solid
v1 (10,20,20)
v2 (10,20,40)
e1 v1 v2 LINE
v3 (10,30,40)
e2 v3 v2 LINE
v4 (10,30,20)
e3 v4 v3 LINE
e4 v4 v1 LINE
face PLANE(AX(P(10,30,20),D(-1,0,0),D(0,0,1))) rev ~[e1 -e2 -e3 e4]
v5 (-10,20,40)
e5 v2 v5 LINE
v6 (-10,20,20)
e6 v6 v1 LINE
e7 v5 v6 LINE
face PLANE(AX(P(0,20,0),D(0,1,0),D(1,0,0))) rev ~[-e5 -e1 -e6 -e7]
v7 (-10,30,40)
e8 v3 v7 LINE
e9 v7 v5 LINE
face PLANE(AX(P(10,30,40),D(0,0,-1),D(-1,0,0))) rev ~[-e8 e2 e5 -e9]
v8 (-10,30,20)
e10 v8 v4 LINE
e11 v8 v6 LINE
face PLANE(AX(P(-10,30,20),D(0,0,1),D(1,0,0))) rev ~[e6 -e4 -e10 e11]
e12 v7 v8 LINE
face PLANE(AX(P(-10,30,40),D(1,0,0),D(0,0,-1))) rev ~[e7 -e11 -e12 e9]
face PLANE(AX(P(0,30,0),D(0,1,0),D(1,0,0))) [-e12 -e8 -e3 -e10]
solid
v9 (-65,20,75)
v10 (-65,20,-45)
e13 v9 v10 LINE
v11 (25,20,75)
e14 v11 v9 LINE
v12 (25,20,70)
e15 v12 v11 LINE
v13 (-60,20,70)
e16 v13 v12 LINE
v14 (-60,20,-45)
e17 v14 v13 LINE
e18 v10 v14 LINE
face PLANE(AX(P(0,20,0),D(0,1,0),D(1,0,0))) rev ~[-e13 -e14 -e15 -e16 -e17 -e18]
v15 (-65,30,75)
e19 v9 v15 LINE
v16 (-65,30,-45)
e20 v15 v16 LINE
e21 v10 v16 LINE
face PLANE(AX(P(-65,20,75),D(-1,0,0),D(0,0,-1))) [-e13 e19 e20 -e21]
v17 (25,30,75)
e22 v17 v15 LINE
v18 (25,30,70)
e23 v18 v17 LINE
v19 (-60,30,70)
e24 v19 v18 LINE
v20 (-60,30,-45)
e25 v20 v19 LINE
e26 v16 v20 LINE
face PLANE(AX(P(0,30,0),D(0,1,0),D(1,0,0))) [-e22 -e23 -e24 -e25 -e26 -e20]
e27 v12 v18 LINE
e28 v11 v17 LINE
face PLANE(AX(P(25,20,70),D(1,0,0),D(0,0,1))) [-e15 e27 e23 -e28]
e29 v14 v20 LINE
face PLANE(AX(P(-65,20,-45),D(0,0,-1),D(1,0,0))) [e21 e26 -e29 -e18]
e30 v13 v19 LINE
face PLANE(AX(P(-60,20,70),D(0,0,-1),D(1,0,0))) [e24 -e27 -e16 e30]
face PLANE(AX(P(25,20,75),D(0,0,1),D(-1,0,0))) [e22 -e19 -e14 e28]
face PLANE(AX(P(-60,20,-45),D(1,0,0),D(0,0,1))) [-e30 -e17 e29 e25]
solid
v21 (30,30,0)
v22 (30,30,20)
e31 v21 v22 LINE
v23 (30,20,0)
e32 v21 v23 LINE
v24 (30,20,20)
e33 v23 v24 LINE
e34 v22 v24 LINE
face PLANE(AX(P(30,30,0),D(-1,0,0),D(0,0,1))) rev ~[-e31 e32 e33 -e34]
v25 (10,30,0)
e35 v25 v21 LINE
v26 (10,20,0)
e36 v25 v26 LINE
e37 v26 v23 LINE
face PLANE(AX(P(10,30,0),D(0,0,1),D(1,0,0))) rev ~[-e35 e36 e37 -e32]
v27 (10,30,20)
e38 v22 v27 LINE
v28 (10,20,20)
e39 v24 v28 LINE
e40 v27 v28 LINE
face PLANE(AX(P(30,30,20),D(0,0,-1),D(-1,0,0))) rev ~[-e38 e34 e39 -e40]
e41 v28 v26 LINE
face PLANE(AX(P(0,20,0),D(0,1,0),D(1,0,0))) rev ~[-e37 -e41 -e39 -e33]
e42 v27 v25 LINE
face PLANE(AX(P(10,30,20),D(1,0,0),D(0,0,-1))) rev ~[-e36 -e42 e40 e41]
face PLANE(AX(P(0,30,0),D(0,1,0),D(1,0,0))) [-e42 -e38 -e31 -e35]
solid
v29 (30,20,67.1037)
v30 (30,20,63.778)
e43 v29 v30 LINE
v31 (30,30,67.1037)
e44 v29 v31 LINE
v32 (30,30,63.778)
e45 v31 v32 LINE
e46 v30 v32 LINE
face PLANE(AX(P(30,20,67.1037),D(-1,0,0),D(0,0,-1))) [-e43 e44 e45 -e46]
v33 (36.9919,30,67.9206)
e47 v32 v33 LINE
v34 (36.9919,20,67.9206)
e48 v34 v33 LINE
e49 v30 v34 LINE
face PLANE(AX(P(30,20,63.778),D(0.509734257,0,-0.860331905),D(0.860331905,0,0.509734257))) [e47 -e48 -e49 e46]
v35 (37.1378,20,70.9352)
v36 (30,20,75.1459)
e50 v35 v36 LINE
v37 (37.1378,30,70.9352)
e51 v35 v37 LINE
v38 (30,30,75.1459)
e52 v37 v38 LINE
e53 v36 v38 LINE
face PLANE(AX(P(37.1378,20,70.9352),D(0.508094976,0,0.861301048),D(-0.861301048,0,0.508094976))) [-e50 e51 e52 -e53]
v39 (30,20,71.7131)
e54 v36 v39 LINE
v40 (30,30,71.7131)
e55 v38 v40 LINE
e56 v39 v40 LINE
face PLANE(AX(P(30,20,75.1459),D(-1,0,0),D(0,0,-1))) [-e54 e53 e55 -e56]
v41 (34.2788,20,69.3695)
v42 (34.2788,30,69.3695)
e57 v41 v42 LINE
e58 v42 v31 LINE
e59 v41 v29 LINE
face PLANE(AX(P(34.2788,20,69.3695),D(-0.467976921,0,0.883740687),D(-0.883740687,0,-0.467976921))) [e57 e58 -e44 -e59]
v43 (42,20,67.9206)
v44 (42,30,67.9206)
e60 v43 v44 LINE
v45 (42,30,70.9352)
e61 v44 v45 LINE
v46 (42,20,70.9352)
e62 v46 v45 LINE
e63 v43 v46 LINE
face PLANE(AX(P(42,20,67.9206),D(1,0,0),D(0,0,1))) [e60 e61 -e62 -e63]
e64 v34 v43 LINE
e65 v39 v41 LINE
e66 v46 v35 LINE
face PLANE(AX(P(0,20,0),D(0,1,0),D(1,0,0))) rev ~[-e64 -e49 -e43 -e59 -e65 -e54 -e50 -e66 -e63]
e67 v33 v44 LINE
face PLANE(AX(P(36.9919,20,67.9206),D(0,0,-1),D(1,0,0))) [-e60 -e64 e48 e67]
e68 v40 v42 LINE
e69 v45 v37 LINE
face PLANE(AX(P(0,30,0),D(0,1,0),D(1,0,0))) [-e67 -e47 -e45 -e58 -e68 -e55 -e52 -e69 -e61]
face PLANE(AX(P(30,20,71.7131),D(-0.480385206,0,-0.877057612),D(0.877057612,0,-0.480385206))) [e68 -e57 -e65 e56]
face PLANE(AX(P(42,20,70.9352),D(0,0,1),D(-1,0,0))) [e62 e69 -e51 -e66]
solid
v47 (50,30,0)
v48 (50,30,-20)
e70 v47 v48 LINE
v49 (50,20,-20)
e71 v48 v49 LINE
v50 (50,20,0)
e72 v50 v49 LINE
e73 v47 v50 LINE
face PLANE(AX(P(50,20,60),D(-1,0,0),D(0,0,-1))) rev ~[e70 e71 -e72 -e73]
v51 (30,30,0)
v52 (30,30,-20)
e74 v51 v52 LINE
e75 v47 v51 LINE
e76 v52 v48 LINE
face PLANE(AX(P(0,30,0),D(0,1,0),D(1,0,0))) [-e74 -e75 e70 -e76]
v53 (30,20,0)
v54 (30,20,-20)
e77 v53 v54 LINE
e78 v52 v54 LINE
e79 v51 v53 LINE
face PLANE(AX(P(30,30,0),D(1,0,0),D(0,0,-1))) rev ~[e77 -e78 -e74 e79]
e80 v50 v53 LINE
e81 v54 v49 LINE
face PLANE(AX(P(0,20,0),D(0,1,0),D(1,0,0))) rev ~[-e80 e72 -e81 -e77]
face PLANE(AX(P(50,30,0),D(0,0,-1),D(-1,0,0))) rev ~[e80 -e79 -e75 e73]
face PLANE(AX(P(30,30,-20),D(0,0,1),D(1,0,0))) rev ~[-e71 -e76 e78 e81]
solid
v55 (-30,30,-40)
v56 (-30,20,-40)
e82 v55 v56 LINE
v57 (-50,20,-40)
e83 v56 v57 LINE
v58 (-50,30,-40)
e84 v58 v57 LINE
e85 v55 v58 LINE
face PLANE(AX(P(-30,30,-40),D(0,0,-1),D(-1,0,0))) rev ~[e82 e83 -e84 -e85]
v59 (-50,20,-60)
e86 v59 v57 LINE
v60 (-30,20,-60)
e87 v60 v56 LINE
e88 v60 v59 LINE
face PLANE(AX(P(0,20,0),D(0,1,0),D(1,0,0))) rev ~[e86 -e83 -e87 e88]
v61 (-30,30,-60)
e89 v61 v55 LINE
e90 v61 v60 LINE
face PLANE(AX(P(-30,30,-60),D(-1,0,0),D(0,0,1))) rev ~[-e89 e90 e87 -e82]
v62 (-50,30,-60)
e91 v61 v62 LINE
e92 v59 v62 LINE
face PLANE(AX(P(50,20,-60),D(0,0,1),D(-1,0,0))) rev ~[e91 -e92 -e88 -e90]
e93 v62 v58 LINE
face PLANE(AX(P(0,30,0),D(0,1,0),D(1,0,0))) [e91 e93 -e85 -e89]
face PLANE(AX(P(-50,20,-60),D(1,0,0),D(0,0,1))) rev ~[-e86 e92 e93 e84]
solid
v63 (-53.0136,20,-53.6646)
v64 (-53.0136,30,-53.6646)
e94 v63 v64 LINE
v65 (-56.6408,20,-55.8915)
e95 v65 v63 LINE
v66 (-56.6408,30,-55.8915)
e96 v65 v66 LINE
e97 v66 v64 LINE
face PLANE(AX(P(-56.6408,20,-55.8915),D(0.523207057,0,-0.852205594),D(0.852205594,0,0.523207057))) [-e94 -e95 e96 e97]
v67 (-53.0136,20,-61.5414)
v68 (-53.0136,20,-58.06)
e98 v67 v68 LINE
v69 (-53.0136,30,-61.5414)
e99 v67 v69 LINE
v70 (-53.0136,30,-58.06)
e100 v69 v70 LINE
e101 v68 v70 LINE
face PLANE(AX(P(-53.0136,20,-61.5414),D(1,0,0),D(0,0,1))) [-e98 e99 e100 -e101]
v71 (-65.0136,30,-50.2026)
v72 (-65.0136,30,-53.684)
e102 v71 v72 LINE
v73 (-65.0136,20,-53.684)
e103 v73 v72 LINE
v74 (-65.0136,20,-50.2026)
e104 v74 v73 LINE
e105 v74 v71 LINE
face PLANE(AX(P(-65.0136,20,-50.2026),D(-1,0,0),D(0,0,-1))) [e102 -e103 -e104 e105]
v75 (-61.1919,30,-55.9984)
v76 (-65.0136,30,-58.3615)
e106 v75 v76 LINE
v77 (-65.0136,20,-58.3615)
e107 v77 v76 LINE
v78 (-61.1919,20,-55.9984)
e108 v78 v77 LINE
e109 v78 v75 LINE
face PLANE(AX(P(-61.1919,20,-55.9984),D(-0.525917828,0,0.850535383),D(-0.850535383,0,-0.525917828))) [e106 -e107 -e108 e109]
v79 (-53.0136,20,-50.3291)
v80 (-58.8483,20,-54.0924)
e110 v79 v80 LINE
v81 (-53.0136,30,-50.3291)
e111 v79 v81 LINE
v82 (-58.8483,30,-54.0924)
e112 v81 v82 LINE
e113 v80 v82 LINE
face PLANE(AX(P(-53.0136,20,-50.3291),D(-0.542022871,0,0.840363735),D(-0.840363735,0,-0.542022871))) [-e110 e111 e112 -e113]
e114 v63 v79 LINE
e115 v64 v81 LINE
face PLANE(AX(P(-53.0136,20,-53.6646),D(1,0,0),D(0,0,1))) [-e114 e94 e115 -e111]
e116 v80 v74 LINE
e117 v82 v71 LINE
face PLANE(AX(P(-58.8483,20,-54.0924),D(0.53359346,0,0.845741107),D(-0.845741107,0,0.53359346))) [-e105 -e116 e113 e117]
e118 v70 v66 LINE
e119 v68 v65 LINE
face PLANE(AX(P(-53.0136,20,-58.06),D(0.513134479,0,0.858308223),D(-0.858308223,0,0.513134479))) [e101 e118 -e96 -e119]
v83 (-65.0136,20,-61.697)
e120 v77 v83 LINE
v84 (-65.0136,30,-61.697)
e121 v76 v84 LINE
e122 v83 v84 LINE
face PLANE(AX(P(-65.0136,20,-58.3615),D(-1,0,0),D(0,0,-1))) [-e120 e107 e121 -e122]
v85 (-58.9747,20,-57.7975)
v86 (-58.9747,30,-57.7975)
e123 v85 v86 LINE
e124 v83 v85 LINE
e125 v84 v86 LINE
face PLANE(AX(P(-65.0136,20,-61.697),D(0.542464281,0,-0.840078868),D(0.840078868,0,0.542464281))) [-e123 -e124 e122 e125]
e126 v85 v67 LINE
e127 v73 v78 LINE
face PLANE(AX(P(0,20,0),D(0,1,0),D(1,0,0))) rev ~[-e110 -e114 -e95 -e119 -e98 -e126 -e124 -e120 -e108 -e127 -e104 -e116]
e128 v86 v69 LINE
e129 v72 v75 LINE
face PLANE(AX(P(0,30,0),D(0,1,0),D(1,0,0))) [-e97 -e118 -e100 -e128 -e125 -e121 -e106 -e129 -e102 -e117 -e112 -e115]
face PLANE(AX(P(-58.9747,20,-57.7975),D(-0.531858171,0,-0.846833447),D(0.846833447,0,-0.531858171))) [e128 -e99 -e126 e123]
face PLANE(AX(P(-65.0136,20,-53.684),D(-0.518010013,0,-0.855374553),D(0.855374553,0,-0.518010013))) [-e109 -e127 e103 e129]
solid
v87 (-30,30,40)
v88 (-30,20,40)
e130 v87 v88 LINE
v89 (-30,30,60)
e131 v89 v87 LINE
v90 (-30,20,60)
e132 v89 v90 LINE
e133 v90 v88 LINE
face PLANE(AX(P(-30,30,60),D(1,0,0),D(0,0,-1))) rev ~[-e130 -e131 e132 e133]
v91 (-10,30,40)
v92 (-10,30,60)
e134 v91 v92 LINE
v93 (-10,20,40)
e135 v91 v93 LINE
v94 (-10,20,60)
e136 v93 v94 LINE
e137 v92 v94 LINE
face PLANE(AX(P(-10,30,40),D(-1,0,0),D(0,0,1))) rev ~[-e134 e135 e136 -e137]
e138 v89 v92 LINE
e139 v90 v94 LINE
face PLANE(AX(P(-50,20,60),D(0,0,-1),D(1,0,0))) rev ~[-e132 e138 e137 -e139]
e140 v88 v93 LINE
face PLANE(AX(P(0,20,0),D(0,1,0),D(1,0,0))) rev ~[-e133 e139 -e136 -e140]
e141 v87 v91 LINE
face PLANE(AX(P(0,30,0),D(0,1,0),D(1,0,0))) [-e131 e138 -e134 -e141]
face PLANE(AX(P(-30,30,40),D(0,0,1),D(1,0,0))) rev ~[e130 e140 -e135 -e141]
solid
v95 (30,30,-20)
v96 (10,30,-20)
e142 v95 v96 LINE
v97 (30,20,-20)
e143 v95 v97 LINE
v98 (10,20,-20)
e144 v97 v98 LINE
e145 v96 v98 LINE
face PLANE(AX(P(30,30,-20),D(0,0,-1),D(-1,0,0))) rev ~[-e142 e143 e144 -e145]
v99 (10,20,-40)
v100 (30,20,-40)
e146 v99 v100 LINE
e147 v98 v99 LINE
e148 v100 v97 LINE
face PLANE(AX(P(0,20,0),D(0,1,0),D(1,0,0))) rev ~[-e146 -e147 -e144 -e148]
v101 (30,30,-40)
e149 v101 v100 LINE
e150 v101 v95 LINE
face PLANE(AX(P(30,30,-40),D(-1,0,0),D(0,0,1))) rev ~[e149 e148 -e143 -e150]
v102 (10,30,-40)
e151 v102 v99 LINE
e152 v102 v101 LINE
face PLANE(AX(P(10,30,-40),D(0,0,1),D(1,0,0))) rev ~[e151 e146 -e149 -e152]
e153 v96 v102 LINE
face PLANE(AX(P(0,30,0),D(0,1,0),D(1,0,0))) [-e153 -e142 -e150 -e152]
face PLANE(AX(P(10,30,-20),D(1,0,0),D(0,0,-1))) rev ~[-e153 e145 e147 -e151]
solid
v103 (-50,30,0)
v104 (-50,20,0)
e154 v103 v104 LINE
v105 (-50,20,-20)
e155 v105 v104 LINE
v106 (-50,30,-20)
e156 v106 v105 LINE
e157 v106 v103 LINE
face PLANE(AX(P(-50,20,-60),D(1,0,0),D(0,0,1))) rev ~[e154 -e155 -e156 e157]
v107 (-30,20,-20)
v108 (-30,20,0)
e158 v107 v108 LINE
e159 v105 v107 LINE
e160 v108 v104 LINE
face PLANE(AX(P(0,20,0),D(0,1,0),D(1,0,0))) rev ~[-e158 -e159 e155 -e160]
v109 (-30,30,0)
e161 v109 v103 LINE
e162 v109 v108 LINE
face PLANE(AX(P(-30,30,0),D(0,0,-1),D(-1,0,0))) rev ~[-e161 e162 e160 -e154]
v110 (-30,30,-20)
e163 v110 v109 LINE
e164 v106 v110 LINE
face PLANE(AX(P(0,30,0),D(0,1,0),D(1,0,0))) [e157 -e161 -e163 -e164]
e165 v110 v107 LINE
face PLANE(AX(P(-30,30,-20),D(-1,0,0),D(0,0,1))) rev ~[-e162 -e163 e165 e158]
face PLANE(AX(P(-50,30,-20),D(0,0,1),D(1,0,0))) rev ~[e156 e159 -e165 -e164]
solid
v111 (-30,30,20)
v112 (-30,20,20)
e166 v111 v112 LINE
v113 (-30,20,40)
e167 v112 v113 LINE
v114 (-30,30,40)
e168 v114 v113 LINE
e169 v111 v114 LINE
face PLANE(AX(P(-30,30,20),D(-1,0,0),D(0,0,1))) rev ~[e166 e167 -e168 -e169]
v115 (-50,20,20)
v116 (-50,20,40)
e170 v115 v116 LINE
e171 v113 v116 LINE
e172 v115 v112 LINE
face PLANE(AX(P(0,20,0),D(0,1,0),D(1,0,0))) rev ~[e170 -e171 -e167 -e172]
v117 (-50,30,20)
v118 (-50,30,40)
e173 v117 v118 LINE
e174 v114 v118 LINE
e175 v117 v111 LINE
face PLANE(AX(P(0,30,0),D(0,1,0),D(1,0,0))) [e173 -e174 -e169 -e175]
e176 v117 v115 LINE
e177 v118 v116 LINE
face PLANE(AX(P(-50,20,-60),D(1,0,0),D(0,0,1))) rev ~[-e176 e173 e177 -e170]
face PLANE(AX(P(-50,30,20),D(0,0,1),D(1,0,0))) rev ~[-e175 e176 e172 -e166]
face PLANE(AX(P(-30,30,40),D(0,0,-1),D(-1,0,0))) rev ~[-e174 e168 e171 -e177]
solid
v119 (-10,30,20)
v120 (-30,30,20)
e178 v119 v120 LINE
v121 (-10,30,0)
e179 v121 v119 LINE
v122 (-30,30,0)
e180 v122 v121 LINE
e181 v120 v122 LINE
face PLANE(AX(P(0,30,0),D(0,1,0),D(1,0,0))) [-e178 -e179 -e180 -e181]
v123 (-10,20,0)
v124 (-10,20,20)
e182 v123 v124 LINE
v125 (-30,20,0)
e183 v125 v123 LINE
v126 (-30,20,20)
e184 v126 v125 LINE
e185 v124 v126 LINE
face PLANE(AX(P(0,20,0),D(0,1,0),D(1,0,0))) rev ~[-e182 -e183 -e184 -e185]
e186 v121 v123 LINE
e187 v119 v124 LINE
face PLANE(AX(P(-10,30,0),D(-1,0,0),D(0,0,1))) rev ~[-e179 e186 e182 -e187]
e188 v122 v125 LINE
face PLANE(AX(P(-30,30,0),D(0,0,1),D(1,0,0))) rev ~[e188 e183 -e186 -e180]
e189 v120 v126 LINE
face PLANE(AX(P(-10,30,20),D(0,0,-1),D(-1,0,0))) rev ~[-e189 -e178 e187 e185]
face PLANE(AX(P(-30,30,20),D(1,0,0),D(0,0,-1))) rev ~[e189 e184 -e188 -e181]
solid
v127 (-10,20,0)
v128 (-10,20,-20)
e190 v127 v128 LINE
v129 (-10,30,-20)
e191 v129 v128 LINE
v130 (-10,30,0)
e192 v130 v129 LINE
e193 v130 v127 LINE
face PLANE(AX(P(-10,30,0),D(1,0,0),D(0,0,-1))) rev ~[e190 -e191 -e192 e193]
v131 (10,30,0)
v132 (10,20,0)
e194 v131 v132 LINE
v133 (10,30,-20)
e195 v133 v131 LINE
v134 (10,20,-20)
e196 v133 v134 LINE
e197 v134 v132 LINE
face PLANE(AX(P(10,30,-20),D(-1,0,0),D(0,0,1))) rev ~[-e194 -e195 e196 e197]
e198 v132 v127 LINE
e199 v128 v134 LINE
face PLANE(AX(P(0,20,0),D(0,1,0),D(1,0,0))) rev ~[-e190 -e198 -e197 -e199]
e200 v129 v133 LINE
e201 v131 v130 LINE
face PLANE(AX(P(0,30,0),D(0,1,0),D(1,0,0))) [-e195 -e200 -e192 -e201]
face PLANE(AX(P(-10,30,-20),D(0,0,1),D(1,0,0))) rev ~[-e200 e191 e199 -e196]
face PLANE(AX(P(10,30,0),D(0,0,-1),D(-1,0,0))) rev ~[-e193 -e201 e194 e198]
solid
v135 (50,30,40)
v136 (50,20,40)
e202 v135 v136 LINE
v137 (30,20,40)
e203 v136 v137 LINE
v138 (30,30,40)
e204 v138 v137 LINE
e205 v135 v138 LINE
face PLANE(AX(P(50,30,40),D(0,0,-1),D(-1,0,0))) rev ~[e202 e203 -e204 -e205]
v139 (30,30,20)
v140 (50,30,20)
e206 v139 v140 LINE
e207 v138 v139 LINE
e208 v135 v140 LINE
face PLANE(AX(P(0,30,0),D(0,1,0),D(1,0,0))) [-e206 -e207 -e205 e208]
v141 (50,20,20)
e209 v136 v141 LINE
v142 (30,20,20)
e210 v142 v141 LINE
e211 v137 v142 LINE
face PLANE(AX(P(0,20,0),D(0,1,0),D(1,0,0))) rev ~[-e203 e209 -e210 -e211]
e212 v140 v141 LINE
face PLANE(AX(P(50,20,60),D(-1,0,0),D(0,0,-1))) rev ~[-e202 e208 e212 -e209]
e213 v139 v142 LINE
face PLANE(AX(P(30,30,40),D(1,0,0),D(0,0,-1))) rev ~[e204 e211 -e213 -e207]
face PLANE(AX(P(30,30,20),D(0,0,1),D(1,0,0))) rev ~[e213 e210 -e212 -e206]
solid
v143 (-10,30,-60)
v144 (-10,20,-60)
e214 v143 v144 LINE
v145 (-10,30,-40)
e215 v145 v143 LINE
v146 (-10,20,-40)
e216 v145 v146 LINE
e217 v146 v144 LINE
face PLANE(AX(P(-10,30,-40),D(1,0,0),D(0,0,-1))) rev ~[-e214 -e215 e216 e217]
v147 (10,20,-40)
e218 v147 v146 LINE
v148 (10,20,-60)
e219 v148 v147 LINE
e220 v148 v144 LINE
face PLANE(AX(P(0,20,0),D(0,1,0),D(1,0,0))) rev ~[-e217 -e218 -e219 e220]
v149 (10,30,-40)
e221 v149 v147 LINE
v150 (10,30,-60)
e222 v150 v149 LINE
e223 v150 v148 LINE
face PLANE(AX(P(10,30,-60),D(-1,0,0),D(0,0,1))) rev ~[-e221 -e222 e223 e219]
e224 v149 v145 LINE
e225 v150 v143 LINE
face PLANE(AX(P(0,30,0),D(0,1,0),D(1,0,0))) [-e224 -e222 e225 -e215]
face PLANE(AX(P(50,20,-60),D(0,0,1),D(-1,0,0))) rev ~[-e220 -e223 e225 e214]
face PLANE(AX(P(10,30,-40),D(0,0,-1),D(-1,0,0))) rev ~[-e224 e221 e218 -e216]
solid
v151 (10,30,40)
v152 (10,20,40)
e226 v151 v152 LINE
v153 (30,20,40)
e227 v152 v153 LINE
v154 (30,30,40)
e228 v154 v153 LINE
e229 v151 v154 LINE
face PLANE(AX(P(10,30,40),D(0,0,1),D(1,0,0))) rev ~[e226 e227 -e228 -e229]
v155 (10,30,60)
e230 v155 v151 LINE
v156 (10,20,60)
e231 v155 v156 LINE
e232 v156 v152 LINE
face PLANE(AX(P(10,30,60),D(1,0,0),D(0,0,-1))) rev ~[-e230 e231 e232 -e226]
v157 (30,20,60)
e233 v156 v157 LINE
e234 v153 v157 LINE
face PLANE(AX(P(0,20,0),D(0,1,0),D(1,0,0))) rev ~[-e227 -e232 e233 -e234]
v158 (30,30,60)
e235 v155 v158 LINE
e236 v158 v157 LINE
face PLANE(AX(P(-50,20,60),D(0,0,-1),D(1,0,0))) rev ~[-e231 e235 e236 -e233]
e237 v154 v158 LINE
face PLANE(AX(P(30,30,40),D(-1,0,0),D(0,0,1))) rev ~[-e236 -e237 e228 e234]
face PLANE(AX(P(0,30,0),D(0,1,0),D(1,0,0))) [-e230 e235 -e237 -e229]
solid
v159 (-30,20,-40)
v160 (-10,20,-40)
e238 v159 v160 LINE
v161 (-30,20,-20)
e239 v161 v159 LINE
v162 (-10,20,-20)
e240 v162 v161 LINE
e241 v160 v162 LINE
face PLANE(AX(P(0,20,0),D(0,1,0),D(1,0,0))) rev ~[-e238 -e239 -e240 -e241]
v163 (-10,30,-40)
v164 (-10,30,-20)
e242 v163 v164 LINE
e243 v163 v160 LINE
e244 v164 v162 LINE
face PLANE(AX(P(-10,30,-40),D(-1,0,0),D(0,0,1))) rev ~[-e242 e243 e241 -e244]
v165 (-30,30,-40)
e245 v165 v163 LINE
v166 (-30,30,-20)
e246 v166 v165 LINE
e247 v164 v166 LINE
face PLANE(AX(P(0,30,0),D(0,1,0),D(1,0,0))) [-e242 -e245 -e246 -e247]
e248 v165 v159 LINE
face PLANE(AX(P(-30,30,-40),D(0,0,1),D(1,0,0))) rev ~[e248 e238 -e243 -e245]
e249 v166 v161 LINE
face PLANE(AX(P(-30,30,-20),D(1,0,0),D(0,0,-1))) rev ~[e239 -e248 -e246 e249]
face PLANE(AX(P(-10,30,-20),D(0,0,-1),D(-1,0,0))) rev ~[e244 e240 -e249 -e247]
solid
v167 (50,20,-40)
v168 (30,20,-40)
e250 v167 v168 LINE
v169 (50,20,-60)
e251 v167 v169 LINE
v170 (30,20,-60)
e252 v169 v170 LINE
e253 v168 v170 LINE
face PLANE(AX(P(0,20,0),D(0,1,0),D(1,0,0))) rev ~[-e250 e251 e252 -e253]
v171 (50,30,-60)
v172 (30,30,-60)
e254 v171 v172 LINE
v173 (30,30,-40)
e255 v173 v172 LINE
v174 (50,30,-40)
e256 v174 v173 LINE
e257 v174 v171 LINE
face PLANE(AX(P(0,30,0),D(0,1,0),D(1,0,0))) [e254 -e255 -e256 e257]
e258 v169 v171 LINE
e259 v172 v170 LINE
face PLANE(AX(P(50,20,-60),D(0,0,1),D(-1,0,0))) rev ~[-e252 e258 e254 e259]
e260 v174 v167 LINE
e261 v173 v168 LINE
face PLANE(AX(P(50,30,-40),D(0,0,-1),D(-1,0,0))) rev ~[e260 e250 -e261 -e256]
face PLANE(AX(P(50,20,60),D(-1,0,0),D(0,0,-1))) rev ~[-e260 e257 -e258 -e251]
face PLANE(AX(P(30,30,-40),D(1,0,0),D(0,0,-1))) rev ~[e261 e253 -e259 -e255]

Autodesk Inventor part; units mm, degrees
ref_plane "YZ Plane" through (0, 0, 0) normal (1, 0, 0) x (0, 1, 0)
ref_plane "XZ Plane" through (0, 0, 0) normal (0, 1, 0) x (-1, 0, 0)
ref_plane "XY Plane" through (0, 0, 0) normal (0, 0, 1) x (1, 0, 0)
sketch "Sketch1" plane through (0, 0, 0) normal (0, 1, 0) x (-1, 0, 0)
  line L0 (70, 80) -> (-70, 80)
  line L1 (-70, 80) -> (-70, -80)
  line L2 (-70, -80) -> (70, -80)
  line L3 (70, -80) -> (70, 80)
  point P0 (0, 0)
  dimension "d13" = 20
  dimension "d0" = 140
  dimension "d1" = 160
  dimension "d4" = 70
  dimension "d5" = 80
extrude "Extrusion1" add sketch "Sketch1" along normal blind 20
sketch "Sketch2" plane through (0, 20, 0) normal (0, 1, 0) x (1, 0, 0)
  line L0 (50, 60) -> (-50, 60)
  line L1 (-50, 60) -> (-50, -60)
  line L2 (-50, -60) -> (50, -60)
  line L3 (50, -60) -> (50, 60)
  line L4 (50, 60) -> (-50, -60) construction
  line L5 (-50, 60) -> (50, -60) construction
  point P0 (0, 0)
  dimension "d8" = 100
  dimension "d9" = 120
extrude "Extrusion2" add sketch "Sketch2" along normal blind 10
sketch "Sketch3" plane through (0, 30, 0) normal (0, 1, 0) x (1, 0, 0)
  line L0 (-50, 60) -> (-50, -60) projected
  line L1 (-50, -60) -> (-30, -60)
  line L2 (-30, -60) -> (-30, -40)
  line L3 (-30, -40) -> (-50, -40)
  line L4 (-50, -40) -> (-50, -60)
  line L5 (-10, -60) -> (10, -60)
  line L6 (10, -60) -> (10, -40)
  line L7 (10, -40) -> (-10, -40)
  line L8 (-10, -40) -> (-10, -60)
  line L9 (10, -40) -> (30, -40)
  line L10 (30, -40) -> (30, -20)
  line L11 (30, -20) -> (10, -20)
  line L12 (10, -20) -> (10, -40)
  line L13 (-30, -40) -> (-10, -40)
  line L14 (-10, -40) -> (-10, -20)
  line L15 (-10, -20) -> (-30, -20)
  line L16 (-30, -20) -> (-30, -40)
  line L17 (-50, -60) -> (50, -60) projected
  line L18 (-53.5785, -189.3047) -> (-33.5785, -189.3047)
  line L19 (-33.5785, -189.3047) -> (-33.5785, -169.3047)
  line L20 (-33.5785, -169.3047) -> (-53.5785, -169.3047)
  line L21 (-53.5785, -169.3047) -> (-53.5785, -189.3047)
  line L22 (-50, -20) -> (-30, -20)
  line L23 (-30, -20) -> (-30, 0)
  line L24 (-30, 0) -> (-50, 0)
  line L25 (-50, 0) -> (-50, -20)
  line L26 (-10, -20) -> (10, -20)
  line L27 (10, -20) -> (10, 0)
  line L28 (10, 0) -> (-10, 0)
  line L29 (-10, 0) -> (-10, -20)
  line L30 (10, 40) -> (30, 40)
  line L31 (30, 40) -> (30, 60)
  line L32 (30, 60) -> (10, 60)
  line L33 (10, 60) -> (10, 40)
  line L34 (-10, 20) -> (-30, 20)
  line L35 (-30, 0) -> (-10, 0)
  line L36 (-30, 20) -> (-30, 0)
  line L37 (-10, 0) -> (-10, 20)
  line L38 (10, 40) -> (-10, 40)
  line L39 (-10, 20) -> (10, 20)
  line L40 (-10, 40) -> (-10, 20)
  line L41 (10, 20) -> (10, 40)
  line L42 (30, 20) -> (10, 20)
  line L43 (10, 0) -> (30, 0)
  line L44 (10, 20) -> (10, 0)
  line L45 (30, 0) -> (30, 20)
  line L46 (-10, 60) -> (-30, 60)
  line L47 (-30, 40) -> (-10, 40)
  line L48 (-30, 60) -> (-30, 40)
  line L49 (-10, 40) -> (-10, 60)
  line L50 (-30, 40) -> (-50, 40)
  line L51 (-50, 20) -> (-30, 20)
  line L52 (-50, 40) -> (-50, 20)
  line L53 (-30, 20) -> (-30, 40)
  line L54 (30, 20) -> (50, 20)
  line L55 (50, 20) -> (50, 40)
  line L56 (50, 40) -> (30, 40)
  line L57 (30, 40) -> (30, 20)
  line L58 (30, -20) -> (50, -20)
  line L59 (50, -20) -> (50, 0)
  line L60 (50, 0) -> (30, 0)
  line L61 (30, 0) -> (30, -20)
  line L62 (30, -60) -> (50, -60)
  line L63 (50, -60) -> (50, -40)
  line L64 (50, -40) -> (30, -40)
  line L65 (30, -40) -> (30, -60)
  dimension "d12" = 20
  dimension "d13" = 20
  dimension "d14" = 20
  dimension "d15" = 20
  dimension "d17" = 20
  dimension "d18" = 20
  dimension "d19" = 20
  dimension "d21" = 20
  dimension "d22" = 20
  dimension "d25" = 20
  dimension "d26" = 20
  dimension "d27" = 20
  dimension "d28" = 20
  dimension "d30" = 20
  dimension "d31" = 20
  dimension "d33" = 20
  dimension "d34" = 20
  dimension "d36" = 20
  dimension "d37" = 20
  dimension "d39" = 20
  dimension "d40" = 20
  dimension "d42" = 20
  dimension "d43" = 20
  dimension "d45" = 20
  dimension "d46" = 20
  dimension "d48" = 20
  dimension "d49" = 20
  dimension "d77" = 20
  dimension "d78" = 20
  dimension "d80" = 20
  dimension "d81" = 20
  dimension "d83" = 20
  dimension "d84" = 20
extrude "Extrusion5" cut sketch "Sketch3" against normal blind 10 contours L50 L53 L51 L0 | L48 L46 L49 L47 | L24 L23 L22 L0 | L34 L37 L35 L36 | L38 L41 L39 L40 | L33 L32 L31 L30 | L3 L2 L1 L0 | L15 L14 L13 L16 | L28 L27 L26 L29 | L42 L45 L43 L44 | L56 L55 L54 L57 | L7 L6 L5 L8 | L11 L10 L9 L12 | L60 L59 L58 L61 | L64 L63 L17 L65
sketch "Sketch4" plane through (0, 20, 0) normal (0, 1, 0) x (1, 0, 0)
  line L0 (-65, -75) -> (-65, 45)
  line L1 (-65, 45) -> (-60, 45)
  line L2 (-60, 45) -> (-60, -70)
  line L3 (-60, -70) -> (25, -70)
  line L4 (25, -70) -> (25, -75)
  line L5 (25, -75) -> (-65, -75)
  line L6 (-70, -80) -> (70, -80) projected
  line L7 (-70, 80) -> (-70, -80) projected
  line L8 (-53.0136, 61.5997) -> (-53.0136, 50) construction
  line L9 (-53.0136, 50) -> (-65.2641, 50) construction
  line L10 (-65.2641, 50) -> (-65.2641, 61.5997) construction
  line L11 (-65.2641, 61.5997) -> (-53.0136, 61.5997) construction
  line L12 (30, -75) -> (30, -63.5159) construction
  line L13 (30, -63.5159) -> (34.1954, -63.5159) construction
  line L14 (34.1954, -63.5159) -> (34.1954, -75) construction
  line L15 (34.1954, -75) -> (30, -75) construction
  line L16 (-65.0136, 50.2026) -> (-65.0136, 53.684)
  line L17 (-65.0136, 53.684) -> (-61.1919, 55.9984)
  line L18 (-61.1919, 55.9984) -> (-65.0136, 58.3615)
  line L19 (-65.0136, 58.3615) -> (-65.0136, 61.697)
  line L20 (-65.0136, 61.697) -> (-58.9747, 57.7975)
  line L21 (-58.9747, 57.7975) -> (-53.0136, 61.5414)
  line L22 (-53.0136, 61.5414) -> (-53.0136, 58.06)
  line L23 (-53.0136, 58.06) -> (-56.6408, 55.8915)
  line L24 (-56.6408, 55.8915) -> (-53.0136, 53.6646)
  line L25 (-53.0136, 53.6646) -> (-53.0136, 50.3291)
  line L26 (-53.0136, 50.3291) -> (-58.8483, 54.0924)
  line L27 (-58.8483, 54.0924) -> (-65.0136, 50.2026)
  line L28 (30, -63.778) -> (36.9919, -67.9206)
  line L29 (36.9919, -67.9206) -> (42, -67.9206)
  line L30 (42, -67.9206) -> (42, -70.9352)
  line L31 (42, -70.9352) -> (37.1378, -70.9352)
  line L32 (37.1378, -70.9352) -> (30, -75.1459)
  line L33 (30, -75.1459) -> (30, -71.7131)
  line L34 (30, -71.7131) -> (34.2788, -69.3695)
  line L35 (34.2788, -69.3695) -> (30, -67.1037)
  line L36 (30, -67.1037) -> (30, -63.778)
  point P0 (0, 0)
  point P1 (-62.5, 45)
  point P2 (-58.8748, 54.3197)
  point P3 (25, -72.5)
  point P4 (28.8521, -69.3123)
  point P5 (28.8521, -69.3123)
  dimension "d53" = 5
  dimension "d54" = 5
  dimension "d55" = 5
  dimension "d56" = 5
  dimension "d57" = 120
  dimension "d58" = 90
  dimension "d63" = 12.2505
  dimension "d73" = 5
  dimension "d88" = 5
  dimension "d90" = 5
extrude "Extrusion4" add sketch "Sketch4" along normal blind 10
sketch "Sketch5" plane through (0, 20, 0) normal (0, 1, 0) x (1, 0, 0)
  line L0 (81.623, -86.9868) -> (-81.623, -86.9868)
  line L1 (-81.623, -86.9868) -> (-81.623, 86.9868)
  line L2 (-81.623, 86.9868) -> (81.623, 86.9868)
  line L3 (81.623, 86.9868) -> (81.623, -86.9868)
  line L4 (81.623, -86.9868) -> (-81.623, 86.9868) construction
  line L5 (-81.623, -86.9868) -> (81.623, 86.9868) construction
  point P0 (0, 0)
extrude "Extrusion6" cut sketch "Sketch5" against normal blind 20
equation "\"d13\" = cell"
equation "\"d4\" = 0.5 * d0"
equation "\"d5\" = 0.5 * d1"
equation "\"d12\" = cell"
equation "\"d14\" = d16"
equation "\"d15\" = d16"
equation "\"d17\" = cell"
equation "\"d18\" = d20"
equation "\"d19\" = d20"
equation "\"d21\" = d23"
equation "\"d22\" = d23"
equation "\"d25\" = cell"
equation "\"d26\" = cell"
equation "\"d27\" = d29"
equation "\"d28\" = d29"
equation "\"d30\" = d32"
equation "\"d31\" = d32"
equation "\"d33\" = d35"
equation "\"d34\" = d35"
equation "\"d36\" = d38"
equation "\"d37\" = d38"
equation "\"d39\" = d41"
equation "\"d40\" = d41"
equation "\"d42\" = d44"
equation "\"d43\" = d44"
equation "\"d45\" = d47"
equation "\"d46\" = d47"
equation "\"d48\" = d50"
equation "\"d49\" = d50"
equation "\"cell\" = 20"
equation "\"d16\" = 20"
equation "\"d20\" = 20"
equation "\"d23\" = 20"
equation "\"d29\" = 20"
equation "\"d32\" = 20"
equation "\"d35\" = 20"
equation "\"d38\" = 20"
equation "\"d41\" = 20"
equation "\"d44\" = 20"
equation "\"d47\" = 20"
equation "\"d50\" = 20"
properties part number "3D_Grid_black_cells" material "Acetal Resin, Black"
